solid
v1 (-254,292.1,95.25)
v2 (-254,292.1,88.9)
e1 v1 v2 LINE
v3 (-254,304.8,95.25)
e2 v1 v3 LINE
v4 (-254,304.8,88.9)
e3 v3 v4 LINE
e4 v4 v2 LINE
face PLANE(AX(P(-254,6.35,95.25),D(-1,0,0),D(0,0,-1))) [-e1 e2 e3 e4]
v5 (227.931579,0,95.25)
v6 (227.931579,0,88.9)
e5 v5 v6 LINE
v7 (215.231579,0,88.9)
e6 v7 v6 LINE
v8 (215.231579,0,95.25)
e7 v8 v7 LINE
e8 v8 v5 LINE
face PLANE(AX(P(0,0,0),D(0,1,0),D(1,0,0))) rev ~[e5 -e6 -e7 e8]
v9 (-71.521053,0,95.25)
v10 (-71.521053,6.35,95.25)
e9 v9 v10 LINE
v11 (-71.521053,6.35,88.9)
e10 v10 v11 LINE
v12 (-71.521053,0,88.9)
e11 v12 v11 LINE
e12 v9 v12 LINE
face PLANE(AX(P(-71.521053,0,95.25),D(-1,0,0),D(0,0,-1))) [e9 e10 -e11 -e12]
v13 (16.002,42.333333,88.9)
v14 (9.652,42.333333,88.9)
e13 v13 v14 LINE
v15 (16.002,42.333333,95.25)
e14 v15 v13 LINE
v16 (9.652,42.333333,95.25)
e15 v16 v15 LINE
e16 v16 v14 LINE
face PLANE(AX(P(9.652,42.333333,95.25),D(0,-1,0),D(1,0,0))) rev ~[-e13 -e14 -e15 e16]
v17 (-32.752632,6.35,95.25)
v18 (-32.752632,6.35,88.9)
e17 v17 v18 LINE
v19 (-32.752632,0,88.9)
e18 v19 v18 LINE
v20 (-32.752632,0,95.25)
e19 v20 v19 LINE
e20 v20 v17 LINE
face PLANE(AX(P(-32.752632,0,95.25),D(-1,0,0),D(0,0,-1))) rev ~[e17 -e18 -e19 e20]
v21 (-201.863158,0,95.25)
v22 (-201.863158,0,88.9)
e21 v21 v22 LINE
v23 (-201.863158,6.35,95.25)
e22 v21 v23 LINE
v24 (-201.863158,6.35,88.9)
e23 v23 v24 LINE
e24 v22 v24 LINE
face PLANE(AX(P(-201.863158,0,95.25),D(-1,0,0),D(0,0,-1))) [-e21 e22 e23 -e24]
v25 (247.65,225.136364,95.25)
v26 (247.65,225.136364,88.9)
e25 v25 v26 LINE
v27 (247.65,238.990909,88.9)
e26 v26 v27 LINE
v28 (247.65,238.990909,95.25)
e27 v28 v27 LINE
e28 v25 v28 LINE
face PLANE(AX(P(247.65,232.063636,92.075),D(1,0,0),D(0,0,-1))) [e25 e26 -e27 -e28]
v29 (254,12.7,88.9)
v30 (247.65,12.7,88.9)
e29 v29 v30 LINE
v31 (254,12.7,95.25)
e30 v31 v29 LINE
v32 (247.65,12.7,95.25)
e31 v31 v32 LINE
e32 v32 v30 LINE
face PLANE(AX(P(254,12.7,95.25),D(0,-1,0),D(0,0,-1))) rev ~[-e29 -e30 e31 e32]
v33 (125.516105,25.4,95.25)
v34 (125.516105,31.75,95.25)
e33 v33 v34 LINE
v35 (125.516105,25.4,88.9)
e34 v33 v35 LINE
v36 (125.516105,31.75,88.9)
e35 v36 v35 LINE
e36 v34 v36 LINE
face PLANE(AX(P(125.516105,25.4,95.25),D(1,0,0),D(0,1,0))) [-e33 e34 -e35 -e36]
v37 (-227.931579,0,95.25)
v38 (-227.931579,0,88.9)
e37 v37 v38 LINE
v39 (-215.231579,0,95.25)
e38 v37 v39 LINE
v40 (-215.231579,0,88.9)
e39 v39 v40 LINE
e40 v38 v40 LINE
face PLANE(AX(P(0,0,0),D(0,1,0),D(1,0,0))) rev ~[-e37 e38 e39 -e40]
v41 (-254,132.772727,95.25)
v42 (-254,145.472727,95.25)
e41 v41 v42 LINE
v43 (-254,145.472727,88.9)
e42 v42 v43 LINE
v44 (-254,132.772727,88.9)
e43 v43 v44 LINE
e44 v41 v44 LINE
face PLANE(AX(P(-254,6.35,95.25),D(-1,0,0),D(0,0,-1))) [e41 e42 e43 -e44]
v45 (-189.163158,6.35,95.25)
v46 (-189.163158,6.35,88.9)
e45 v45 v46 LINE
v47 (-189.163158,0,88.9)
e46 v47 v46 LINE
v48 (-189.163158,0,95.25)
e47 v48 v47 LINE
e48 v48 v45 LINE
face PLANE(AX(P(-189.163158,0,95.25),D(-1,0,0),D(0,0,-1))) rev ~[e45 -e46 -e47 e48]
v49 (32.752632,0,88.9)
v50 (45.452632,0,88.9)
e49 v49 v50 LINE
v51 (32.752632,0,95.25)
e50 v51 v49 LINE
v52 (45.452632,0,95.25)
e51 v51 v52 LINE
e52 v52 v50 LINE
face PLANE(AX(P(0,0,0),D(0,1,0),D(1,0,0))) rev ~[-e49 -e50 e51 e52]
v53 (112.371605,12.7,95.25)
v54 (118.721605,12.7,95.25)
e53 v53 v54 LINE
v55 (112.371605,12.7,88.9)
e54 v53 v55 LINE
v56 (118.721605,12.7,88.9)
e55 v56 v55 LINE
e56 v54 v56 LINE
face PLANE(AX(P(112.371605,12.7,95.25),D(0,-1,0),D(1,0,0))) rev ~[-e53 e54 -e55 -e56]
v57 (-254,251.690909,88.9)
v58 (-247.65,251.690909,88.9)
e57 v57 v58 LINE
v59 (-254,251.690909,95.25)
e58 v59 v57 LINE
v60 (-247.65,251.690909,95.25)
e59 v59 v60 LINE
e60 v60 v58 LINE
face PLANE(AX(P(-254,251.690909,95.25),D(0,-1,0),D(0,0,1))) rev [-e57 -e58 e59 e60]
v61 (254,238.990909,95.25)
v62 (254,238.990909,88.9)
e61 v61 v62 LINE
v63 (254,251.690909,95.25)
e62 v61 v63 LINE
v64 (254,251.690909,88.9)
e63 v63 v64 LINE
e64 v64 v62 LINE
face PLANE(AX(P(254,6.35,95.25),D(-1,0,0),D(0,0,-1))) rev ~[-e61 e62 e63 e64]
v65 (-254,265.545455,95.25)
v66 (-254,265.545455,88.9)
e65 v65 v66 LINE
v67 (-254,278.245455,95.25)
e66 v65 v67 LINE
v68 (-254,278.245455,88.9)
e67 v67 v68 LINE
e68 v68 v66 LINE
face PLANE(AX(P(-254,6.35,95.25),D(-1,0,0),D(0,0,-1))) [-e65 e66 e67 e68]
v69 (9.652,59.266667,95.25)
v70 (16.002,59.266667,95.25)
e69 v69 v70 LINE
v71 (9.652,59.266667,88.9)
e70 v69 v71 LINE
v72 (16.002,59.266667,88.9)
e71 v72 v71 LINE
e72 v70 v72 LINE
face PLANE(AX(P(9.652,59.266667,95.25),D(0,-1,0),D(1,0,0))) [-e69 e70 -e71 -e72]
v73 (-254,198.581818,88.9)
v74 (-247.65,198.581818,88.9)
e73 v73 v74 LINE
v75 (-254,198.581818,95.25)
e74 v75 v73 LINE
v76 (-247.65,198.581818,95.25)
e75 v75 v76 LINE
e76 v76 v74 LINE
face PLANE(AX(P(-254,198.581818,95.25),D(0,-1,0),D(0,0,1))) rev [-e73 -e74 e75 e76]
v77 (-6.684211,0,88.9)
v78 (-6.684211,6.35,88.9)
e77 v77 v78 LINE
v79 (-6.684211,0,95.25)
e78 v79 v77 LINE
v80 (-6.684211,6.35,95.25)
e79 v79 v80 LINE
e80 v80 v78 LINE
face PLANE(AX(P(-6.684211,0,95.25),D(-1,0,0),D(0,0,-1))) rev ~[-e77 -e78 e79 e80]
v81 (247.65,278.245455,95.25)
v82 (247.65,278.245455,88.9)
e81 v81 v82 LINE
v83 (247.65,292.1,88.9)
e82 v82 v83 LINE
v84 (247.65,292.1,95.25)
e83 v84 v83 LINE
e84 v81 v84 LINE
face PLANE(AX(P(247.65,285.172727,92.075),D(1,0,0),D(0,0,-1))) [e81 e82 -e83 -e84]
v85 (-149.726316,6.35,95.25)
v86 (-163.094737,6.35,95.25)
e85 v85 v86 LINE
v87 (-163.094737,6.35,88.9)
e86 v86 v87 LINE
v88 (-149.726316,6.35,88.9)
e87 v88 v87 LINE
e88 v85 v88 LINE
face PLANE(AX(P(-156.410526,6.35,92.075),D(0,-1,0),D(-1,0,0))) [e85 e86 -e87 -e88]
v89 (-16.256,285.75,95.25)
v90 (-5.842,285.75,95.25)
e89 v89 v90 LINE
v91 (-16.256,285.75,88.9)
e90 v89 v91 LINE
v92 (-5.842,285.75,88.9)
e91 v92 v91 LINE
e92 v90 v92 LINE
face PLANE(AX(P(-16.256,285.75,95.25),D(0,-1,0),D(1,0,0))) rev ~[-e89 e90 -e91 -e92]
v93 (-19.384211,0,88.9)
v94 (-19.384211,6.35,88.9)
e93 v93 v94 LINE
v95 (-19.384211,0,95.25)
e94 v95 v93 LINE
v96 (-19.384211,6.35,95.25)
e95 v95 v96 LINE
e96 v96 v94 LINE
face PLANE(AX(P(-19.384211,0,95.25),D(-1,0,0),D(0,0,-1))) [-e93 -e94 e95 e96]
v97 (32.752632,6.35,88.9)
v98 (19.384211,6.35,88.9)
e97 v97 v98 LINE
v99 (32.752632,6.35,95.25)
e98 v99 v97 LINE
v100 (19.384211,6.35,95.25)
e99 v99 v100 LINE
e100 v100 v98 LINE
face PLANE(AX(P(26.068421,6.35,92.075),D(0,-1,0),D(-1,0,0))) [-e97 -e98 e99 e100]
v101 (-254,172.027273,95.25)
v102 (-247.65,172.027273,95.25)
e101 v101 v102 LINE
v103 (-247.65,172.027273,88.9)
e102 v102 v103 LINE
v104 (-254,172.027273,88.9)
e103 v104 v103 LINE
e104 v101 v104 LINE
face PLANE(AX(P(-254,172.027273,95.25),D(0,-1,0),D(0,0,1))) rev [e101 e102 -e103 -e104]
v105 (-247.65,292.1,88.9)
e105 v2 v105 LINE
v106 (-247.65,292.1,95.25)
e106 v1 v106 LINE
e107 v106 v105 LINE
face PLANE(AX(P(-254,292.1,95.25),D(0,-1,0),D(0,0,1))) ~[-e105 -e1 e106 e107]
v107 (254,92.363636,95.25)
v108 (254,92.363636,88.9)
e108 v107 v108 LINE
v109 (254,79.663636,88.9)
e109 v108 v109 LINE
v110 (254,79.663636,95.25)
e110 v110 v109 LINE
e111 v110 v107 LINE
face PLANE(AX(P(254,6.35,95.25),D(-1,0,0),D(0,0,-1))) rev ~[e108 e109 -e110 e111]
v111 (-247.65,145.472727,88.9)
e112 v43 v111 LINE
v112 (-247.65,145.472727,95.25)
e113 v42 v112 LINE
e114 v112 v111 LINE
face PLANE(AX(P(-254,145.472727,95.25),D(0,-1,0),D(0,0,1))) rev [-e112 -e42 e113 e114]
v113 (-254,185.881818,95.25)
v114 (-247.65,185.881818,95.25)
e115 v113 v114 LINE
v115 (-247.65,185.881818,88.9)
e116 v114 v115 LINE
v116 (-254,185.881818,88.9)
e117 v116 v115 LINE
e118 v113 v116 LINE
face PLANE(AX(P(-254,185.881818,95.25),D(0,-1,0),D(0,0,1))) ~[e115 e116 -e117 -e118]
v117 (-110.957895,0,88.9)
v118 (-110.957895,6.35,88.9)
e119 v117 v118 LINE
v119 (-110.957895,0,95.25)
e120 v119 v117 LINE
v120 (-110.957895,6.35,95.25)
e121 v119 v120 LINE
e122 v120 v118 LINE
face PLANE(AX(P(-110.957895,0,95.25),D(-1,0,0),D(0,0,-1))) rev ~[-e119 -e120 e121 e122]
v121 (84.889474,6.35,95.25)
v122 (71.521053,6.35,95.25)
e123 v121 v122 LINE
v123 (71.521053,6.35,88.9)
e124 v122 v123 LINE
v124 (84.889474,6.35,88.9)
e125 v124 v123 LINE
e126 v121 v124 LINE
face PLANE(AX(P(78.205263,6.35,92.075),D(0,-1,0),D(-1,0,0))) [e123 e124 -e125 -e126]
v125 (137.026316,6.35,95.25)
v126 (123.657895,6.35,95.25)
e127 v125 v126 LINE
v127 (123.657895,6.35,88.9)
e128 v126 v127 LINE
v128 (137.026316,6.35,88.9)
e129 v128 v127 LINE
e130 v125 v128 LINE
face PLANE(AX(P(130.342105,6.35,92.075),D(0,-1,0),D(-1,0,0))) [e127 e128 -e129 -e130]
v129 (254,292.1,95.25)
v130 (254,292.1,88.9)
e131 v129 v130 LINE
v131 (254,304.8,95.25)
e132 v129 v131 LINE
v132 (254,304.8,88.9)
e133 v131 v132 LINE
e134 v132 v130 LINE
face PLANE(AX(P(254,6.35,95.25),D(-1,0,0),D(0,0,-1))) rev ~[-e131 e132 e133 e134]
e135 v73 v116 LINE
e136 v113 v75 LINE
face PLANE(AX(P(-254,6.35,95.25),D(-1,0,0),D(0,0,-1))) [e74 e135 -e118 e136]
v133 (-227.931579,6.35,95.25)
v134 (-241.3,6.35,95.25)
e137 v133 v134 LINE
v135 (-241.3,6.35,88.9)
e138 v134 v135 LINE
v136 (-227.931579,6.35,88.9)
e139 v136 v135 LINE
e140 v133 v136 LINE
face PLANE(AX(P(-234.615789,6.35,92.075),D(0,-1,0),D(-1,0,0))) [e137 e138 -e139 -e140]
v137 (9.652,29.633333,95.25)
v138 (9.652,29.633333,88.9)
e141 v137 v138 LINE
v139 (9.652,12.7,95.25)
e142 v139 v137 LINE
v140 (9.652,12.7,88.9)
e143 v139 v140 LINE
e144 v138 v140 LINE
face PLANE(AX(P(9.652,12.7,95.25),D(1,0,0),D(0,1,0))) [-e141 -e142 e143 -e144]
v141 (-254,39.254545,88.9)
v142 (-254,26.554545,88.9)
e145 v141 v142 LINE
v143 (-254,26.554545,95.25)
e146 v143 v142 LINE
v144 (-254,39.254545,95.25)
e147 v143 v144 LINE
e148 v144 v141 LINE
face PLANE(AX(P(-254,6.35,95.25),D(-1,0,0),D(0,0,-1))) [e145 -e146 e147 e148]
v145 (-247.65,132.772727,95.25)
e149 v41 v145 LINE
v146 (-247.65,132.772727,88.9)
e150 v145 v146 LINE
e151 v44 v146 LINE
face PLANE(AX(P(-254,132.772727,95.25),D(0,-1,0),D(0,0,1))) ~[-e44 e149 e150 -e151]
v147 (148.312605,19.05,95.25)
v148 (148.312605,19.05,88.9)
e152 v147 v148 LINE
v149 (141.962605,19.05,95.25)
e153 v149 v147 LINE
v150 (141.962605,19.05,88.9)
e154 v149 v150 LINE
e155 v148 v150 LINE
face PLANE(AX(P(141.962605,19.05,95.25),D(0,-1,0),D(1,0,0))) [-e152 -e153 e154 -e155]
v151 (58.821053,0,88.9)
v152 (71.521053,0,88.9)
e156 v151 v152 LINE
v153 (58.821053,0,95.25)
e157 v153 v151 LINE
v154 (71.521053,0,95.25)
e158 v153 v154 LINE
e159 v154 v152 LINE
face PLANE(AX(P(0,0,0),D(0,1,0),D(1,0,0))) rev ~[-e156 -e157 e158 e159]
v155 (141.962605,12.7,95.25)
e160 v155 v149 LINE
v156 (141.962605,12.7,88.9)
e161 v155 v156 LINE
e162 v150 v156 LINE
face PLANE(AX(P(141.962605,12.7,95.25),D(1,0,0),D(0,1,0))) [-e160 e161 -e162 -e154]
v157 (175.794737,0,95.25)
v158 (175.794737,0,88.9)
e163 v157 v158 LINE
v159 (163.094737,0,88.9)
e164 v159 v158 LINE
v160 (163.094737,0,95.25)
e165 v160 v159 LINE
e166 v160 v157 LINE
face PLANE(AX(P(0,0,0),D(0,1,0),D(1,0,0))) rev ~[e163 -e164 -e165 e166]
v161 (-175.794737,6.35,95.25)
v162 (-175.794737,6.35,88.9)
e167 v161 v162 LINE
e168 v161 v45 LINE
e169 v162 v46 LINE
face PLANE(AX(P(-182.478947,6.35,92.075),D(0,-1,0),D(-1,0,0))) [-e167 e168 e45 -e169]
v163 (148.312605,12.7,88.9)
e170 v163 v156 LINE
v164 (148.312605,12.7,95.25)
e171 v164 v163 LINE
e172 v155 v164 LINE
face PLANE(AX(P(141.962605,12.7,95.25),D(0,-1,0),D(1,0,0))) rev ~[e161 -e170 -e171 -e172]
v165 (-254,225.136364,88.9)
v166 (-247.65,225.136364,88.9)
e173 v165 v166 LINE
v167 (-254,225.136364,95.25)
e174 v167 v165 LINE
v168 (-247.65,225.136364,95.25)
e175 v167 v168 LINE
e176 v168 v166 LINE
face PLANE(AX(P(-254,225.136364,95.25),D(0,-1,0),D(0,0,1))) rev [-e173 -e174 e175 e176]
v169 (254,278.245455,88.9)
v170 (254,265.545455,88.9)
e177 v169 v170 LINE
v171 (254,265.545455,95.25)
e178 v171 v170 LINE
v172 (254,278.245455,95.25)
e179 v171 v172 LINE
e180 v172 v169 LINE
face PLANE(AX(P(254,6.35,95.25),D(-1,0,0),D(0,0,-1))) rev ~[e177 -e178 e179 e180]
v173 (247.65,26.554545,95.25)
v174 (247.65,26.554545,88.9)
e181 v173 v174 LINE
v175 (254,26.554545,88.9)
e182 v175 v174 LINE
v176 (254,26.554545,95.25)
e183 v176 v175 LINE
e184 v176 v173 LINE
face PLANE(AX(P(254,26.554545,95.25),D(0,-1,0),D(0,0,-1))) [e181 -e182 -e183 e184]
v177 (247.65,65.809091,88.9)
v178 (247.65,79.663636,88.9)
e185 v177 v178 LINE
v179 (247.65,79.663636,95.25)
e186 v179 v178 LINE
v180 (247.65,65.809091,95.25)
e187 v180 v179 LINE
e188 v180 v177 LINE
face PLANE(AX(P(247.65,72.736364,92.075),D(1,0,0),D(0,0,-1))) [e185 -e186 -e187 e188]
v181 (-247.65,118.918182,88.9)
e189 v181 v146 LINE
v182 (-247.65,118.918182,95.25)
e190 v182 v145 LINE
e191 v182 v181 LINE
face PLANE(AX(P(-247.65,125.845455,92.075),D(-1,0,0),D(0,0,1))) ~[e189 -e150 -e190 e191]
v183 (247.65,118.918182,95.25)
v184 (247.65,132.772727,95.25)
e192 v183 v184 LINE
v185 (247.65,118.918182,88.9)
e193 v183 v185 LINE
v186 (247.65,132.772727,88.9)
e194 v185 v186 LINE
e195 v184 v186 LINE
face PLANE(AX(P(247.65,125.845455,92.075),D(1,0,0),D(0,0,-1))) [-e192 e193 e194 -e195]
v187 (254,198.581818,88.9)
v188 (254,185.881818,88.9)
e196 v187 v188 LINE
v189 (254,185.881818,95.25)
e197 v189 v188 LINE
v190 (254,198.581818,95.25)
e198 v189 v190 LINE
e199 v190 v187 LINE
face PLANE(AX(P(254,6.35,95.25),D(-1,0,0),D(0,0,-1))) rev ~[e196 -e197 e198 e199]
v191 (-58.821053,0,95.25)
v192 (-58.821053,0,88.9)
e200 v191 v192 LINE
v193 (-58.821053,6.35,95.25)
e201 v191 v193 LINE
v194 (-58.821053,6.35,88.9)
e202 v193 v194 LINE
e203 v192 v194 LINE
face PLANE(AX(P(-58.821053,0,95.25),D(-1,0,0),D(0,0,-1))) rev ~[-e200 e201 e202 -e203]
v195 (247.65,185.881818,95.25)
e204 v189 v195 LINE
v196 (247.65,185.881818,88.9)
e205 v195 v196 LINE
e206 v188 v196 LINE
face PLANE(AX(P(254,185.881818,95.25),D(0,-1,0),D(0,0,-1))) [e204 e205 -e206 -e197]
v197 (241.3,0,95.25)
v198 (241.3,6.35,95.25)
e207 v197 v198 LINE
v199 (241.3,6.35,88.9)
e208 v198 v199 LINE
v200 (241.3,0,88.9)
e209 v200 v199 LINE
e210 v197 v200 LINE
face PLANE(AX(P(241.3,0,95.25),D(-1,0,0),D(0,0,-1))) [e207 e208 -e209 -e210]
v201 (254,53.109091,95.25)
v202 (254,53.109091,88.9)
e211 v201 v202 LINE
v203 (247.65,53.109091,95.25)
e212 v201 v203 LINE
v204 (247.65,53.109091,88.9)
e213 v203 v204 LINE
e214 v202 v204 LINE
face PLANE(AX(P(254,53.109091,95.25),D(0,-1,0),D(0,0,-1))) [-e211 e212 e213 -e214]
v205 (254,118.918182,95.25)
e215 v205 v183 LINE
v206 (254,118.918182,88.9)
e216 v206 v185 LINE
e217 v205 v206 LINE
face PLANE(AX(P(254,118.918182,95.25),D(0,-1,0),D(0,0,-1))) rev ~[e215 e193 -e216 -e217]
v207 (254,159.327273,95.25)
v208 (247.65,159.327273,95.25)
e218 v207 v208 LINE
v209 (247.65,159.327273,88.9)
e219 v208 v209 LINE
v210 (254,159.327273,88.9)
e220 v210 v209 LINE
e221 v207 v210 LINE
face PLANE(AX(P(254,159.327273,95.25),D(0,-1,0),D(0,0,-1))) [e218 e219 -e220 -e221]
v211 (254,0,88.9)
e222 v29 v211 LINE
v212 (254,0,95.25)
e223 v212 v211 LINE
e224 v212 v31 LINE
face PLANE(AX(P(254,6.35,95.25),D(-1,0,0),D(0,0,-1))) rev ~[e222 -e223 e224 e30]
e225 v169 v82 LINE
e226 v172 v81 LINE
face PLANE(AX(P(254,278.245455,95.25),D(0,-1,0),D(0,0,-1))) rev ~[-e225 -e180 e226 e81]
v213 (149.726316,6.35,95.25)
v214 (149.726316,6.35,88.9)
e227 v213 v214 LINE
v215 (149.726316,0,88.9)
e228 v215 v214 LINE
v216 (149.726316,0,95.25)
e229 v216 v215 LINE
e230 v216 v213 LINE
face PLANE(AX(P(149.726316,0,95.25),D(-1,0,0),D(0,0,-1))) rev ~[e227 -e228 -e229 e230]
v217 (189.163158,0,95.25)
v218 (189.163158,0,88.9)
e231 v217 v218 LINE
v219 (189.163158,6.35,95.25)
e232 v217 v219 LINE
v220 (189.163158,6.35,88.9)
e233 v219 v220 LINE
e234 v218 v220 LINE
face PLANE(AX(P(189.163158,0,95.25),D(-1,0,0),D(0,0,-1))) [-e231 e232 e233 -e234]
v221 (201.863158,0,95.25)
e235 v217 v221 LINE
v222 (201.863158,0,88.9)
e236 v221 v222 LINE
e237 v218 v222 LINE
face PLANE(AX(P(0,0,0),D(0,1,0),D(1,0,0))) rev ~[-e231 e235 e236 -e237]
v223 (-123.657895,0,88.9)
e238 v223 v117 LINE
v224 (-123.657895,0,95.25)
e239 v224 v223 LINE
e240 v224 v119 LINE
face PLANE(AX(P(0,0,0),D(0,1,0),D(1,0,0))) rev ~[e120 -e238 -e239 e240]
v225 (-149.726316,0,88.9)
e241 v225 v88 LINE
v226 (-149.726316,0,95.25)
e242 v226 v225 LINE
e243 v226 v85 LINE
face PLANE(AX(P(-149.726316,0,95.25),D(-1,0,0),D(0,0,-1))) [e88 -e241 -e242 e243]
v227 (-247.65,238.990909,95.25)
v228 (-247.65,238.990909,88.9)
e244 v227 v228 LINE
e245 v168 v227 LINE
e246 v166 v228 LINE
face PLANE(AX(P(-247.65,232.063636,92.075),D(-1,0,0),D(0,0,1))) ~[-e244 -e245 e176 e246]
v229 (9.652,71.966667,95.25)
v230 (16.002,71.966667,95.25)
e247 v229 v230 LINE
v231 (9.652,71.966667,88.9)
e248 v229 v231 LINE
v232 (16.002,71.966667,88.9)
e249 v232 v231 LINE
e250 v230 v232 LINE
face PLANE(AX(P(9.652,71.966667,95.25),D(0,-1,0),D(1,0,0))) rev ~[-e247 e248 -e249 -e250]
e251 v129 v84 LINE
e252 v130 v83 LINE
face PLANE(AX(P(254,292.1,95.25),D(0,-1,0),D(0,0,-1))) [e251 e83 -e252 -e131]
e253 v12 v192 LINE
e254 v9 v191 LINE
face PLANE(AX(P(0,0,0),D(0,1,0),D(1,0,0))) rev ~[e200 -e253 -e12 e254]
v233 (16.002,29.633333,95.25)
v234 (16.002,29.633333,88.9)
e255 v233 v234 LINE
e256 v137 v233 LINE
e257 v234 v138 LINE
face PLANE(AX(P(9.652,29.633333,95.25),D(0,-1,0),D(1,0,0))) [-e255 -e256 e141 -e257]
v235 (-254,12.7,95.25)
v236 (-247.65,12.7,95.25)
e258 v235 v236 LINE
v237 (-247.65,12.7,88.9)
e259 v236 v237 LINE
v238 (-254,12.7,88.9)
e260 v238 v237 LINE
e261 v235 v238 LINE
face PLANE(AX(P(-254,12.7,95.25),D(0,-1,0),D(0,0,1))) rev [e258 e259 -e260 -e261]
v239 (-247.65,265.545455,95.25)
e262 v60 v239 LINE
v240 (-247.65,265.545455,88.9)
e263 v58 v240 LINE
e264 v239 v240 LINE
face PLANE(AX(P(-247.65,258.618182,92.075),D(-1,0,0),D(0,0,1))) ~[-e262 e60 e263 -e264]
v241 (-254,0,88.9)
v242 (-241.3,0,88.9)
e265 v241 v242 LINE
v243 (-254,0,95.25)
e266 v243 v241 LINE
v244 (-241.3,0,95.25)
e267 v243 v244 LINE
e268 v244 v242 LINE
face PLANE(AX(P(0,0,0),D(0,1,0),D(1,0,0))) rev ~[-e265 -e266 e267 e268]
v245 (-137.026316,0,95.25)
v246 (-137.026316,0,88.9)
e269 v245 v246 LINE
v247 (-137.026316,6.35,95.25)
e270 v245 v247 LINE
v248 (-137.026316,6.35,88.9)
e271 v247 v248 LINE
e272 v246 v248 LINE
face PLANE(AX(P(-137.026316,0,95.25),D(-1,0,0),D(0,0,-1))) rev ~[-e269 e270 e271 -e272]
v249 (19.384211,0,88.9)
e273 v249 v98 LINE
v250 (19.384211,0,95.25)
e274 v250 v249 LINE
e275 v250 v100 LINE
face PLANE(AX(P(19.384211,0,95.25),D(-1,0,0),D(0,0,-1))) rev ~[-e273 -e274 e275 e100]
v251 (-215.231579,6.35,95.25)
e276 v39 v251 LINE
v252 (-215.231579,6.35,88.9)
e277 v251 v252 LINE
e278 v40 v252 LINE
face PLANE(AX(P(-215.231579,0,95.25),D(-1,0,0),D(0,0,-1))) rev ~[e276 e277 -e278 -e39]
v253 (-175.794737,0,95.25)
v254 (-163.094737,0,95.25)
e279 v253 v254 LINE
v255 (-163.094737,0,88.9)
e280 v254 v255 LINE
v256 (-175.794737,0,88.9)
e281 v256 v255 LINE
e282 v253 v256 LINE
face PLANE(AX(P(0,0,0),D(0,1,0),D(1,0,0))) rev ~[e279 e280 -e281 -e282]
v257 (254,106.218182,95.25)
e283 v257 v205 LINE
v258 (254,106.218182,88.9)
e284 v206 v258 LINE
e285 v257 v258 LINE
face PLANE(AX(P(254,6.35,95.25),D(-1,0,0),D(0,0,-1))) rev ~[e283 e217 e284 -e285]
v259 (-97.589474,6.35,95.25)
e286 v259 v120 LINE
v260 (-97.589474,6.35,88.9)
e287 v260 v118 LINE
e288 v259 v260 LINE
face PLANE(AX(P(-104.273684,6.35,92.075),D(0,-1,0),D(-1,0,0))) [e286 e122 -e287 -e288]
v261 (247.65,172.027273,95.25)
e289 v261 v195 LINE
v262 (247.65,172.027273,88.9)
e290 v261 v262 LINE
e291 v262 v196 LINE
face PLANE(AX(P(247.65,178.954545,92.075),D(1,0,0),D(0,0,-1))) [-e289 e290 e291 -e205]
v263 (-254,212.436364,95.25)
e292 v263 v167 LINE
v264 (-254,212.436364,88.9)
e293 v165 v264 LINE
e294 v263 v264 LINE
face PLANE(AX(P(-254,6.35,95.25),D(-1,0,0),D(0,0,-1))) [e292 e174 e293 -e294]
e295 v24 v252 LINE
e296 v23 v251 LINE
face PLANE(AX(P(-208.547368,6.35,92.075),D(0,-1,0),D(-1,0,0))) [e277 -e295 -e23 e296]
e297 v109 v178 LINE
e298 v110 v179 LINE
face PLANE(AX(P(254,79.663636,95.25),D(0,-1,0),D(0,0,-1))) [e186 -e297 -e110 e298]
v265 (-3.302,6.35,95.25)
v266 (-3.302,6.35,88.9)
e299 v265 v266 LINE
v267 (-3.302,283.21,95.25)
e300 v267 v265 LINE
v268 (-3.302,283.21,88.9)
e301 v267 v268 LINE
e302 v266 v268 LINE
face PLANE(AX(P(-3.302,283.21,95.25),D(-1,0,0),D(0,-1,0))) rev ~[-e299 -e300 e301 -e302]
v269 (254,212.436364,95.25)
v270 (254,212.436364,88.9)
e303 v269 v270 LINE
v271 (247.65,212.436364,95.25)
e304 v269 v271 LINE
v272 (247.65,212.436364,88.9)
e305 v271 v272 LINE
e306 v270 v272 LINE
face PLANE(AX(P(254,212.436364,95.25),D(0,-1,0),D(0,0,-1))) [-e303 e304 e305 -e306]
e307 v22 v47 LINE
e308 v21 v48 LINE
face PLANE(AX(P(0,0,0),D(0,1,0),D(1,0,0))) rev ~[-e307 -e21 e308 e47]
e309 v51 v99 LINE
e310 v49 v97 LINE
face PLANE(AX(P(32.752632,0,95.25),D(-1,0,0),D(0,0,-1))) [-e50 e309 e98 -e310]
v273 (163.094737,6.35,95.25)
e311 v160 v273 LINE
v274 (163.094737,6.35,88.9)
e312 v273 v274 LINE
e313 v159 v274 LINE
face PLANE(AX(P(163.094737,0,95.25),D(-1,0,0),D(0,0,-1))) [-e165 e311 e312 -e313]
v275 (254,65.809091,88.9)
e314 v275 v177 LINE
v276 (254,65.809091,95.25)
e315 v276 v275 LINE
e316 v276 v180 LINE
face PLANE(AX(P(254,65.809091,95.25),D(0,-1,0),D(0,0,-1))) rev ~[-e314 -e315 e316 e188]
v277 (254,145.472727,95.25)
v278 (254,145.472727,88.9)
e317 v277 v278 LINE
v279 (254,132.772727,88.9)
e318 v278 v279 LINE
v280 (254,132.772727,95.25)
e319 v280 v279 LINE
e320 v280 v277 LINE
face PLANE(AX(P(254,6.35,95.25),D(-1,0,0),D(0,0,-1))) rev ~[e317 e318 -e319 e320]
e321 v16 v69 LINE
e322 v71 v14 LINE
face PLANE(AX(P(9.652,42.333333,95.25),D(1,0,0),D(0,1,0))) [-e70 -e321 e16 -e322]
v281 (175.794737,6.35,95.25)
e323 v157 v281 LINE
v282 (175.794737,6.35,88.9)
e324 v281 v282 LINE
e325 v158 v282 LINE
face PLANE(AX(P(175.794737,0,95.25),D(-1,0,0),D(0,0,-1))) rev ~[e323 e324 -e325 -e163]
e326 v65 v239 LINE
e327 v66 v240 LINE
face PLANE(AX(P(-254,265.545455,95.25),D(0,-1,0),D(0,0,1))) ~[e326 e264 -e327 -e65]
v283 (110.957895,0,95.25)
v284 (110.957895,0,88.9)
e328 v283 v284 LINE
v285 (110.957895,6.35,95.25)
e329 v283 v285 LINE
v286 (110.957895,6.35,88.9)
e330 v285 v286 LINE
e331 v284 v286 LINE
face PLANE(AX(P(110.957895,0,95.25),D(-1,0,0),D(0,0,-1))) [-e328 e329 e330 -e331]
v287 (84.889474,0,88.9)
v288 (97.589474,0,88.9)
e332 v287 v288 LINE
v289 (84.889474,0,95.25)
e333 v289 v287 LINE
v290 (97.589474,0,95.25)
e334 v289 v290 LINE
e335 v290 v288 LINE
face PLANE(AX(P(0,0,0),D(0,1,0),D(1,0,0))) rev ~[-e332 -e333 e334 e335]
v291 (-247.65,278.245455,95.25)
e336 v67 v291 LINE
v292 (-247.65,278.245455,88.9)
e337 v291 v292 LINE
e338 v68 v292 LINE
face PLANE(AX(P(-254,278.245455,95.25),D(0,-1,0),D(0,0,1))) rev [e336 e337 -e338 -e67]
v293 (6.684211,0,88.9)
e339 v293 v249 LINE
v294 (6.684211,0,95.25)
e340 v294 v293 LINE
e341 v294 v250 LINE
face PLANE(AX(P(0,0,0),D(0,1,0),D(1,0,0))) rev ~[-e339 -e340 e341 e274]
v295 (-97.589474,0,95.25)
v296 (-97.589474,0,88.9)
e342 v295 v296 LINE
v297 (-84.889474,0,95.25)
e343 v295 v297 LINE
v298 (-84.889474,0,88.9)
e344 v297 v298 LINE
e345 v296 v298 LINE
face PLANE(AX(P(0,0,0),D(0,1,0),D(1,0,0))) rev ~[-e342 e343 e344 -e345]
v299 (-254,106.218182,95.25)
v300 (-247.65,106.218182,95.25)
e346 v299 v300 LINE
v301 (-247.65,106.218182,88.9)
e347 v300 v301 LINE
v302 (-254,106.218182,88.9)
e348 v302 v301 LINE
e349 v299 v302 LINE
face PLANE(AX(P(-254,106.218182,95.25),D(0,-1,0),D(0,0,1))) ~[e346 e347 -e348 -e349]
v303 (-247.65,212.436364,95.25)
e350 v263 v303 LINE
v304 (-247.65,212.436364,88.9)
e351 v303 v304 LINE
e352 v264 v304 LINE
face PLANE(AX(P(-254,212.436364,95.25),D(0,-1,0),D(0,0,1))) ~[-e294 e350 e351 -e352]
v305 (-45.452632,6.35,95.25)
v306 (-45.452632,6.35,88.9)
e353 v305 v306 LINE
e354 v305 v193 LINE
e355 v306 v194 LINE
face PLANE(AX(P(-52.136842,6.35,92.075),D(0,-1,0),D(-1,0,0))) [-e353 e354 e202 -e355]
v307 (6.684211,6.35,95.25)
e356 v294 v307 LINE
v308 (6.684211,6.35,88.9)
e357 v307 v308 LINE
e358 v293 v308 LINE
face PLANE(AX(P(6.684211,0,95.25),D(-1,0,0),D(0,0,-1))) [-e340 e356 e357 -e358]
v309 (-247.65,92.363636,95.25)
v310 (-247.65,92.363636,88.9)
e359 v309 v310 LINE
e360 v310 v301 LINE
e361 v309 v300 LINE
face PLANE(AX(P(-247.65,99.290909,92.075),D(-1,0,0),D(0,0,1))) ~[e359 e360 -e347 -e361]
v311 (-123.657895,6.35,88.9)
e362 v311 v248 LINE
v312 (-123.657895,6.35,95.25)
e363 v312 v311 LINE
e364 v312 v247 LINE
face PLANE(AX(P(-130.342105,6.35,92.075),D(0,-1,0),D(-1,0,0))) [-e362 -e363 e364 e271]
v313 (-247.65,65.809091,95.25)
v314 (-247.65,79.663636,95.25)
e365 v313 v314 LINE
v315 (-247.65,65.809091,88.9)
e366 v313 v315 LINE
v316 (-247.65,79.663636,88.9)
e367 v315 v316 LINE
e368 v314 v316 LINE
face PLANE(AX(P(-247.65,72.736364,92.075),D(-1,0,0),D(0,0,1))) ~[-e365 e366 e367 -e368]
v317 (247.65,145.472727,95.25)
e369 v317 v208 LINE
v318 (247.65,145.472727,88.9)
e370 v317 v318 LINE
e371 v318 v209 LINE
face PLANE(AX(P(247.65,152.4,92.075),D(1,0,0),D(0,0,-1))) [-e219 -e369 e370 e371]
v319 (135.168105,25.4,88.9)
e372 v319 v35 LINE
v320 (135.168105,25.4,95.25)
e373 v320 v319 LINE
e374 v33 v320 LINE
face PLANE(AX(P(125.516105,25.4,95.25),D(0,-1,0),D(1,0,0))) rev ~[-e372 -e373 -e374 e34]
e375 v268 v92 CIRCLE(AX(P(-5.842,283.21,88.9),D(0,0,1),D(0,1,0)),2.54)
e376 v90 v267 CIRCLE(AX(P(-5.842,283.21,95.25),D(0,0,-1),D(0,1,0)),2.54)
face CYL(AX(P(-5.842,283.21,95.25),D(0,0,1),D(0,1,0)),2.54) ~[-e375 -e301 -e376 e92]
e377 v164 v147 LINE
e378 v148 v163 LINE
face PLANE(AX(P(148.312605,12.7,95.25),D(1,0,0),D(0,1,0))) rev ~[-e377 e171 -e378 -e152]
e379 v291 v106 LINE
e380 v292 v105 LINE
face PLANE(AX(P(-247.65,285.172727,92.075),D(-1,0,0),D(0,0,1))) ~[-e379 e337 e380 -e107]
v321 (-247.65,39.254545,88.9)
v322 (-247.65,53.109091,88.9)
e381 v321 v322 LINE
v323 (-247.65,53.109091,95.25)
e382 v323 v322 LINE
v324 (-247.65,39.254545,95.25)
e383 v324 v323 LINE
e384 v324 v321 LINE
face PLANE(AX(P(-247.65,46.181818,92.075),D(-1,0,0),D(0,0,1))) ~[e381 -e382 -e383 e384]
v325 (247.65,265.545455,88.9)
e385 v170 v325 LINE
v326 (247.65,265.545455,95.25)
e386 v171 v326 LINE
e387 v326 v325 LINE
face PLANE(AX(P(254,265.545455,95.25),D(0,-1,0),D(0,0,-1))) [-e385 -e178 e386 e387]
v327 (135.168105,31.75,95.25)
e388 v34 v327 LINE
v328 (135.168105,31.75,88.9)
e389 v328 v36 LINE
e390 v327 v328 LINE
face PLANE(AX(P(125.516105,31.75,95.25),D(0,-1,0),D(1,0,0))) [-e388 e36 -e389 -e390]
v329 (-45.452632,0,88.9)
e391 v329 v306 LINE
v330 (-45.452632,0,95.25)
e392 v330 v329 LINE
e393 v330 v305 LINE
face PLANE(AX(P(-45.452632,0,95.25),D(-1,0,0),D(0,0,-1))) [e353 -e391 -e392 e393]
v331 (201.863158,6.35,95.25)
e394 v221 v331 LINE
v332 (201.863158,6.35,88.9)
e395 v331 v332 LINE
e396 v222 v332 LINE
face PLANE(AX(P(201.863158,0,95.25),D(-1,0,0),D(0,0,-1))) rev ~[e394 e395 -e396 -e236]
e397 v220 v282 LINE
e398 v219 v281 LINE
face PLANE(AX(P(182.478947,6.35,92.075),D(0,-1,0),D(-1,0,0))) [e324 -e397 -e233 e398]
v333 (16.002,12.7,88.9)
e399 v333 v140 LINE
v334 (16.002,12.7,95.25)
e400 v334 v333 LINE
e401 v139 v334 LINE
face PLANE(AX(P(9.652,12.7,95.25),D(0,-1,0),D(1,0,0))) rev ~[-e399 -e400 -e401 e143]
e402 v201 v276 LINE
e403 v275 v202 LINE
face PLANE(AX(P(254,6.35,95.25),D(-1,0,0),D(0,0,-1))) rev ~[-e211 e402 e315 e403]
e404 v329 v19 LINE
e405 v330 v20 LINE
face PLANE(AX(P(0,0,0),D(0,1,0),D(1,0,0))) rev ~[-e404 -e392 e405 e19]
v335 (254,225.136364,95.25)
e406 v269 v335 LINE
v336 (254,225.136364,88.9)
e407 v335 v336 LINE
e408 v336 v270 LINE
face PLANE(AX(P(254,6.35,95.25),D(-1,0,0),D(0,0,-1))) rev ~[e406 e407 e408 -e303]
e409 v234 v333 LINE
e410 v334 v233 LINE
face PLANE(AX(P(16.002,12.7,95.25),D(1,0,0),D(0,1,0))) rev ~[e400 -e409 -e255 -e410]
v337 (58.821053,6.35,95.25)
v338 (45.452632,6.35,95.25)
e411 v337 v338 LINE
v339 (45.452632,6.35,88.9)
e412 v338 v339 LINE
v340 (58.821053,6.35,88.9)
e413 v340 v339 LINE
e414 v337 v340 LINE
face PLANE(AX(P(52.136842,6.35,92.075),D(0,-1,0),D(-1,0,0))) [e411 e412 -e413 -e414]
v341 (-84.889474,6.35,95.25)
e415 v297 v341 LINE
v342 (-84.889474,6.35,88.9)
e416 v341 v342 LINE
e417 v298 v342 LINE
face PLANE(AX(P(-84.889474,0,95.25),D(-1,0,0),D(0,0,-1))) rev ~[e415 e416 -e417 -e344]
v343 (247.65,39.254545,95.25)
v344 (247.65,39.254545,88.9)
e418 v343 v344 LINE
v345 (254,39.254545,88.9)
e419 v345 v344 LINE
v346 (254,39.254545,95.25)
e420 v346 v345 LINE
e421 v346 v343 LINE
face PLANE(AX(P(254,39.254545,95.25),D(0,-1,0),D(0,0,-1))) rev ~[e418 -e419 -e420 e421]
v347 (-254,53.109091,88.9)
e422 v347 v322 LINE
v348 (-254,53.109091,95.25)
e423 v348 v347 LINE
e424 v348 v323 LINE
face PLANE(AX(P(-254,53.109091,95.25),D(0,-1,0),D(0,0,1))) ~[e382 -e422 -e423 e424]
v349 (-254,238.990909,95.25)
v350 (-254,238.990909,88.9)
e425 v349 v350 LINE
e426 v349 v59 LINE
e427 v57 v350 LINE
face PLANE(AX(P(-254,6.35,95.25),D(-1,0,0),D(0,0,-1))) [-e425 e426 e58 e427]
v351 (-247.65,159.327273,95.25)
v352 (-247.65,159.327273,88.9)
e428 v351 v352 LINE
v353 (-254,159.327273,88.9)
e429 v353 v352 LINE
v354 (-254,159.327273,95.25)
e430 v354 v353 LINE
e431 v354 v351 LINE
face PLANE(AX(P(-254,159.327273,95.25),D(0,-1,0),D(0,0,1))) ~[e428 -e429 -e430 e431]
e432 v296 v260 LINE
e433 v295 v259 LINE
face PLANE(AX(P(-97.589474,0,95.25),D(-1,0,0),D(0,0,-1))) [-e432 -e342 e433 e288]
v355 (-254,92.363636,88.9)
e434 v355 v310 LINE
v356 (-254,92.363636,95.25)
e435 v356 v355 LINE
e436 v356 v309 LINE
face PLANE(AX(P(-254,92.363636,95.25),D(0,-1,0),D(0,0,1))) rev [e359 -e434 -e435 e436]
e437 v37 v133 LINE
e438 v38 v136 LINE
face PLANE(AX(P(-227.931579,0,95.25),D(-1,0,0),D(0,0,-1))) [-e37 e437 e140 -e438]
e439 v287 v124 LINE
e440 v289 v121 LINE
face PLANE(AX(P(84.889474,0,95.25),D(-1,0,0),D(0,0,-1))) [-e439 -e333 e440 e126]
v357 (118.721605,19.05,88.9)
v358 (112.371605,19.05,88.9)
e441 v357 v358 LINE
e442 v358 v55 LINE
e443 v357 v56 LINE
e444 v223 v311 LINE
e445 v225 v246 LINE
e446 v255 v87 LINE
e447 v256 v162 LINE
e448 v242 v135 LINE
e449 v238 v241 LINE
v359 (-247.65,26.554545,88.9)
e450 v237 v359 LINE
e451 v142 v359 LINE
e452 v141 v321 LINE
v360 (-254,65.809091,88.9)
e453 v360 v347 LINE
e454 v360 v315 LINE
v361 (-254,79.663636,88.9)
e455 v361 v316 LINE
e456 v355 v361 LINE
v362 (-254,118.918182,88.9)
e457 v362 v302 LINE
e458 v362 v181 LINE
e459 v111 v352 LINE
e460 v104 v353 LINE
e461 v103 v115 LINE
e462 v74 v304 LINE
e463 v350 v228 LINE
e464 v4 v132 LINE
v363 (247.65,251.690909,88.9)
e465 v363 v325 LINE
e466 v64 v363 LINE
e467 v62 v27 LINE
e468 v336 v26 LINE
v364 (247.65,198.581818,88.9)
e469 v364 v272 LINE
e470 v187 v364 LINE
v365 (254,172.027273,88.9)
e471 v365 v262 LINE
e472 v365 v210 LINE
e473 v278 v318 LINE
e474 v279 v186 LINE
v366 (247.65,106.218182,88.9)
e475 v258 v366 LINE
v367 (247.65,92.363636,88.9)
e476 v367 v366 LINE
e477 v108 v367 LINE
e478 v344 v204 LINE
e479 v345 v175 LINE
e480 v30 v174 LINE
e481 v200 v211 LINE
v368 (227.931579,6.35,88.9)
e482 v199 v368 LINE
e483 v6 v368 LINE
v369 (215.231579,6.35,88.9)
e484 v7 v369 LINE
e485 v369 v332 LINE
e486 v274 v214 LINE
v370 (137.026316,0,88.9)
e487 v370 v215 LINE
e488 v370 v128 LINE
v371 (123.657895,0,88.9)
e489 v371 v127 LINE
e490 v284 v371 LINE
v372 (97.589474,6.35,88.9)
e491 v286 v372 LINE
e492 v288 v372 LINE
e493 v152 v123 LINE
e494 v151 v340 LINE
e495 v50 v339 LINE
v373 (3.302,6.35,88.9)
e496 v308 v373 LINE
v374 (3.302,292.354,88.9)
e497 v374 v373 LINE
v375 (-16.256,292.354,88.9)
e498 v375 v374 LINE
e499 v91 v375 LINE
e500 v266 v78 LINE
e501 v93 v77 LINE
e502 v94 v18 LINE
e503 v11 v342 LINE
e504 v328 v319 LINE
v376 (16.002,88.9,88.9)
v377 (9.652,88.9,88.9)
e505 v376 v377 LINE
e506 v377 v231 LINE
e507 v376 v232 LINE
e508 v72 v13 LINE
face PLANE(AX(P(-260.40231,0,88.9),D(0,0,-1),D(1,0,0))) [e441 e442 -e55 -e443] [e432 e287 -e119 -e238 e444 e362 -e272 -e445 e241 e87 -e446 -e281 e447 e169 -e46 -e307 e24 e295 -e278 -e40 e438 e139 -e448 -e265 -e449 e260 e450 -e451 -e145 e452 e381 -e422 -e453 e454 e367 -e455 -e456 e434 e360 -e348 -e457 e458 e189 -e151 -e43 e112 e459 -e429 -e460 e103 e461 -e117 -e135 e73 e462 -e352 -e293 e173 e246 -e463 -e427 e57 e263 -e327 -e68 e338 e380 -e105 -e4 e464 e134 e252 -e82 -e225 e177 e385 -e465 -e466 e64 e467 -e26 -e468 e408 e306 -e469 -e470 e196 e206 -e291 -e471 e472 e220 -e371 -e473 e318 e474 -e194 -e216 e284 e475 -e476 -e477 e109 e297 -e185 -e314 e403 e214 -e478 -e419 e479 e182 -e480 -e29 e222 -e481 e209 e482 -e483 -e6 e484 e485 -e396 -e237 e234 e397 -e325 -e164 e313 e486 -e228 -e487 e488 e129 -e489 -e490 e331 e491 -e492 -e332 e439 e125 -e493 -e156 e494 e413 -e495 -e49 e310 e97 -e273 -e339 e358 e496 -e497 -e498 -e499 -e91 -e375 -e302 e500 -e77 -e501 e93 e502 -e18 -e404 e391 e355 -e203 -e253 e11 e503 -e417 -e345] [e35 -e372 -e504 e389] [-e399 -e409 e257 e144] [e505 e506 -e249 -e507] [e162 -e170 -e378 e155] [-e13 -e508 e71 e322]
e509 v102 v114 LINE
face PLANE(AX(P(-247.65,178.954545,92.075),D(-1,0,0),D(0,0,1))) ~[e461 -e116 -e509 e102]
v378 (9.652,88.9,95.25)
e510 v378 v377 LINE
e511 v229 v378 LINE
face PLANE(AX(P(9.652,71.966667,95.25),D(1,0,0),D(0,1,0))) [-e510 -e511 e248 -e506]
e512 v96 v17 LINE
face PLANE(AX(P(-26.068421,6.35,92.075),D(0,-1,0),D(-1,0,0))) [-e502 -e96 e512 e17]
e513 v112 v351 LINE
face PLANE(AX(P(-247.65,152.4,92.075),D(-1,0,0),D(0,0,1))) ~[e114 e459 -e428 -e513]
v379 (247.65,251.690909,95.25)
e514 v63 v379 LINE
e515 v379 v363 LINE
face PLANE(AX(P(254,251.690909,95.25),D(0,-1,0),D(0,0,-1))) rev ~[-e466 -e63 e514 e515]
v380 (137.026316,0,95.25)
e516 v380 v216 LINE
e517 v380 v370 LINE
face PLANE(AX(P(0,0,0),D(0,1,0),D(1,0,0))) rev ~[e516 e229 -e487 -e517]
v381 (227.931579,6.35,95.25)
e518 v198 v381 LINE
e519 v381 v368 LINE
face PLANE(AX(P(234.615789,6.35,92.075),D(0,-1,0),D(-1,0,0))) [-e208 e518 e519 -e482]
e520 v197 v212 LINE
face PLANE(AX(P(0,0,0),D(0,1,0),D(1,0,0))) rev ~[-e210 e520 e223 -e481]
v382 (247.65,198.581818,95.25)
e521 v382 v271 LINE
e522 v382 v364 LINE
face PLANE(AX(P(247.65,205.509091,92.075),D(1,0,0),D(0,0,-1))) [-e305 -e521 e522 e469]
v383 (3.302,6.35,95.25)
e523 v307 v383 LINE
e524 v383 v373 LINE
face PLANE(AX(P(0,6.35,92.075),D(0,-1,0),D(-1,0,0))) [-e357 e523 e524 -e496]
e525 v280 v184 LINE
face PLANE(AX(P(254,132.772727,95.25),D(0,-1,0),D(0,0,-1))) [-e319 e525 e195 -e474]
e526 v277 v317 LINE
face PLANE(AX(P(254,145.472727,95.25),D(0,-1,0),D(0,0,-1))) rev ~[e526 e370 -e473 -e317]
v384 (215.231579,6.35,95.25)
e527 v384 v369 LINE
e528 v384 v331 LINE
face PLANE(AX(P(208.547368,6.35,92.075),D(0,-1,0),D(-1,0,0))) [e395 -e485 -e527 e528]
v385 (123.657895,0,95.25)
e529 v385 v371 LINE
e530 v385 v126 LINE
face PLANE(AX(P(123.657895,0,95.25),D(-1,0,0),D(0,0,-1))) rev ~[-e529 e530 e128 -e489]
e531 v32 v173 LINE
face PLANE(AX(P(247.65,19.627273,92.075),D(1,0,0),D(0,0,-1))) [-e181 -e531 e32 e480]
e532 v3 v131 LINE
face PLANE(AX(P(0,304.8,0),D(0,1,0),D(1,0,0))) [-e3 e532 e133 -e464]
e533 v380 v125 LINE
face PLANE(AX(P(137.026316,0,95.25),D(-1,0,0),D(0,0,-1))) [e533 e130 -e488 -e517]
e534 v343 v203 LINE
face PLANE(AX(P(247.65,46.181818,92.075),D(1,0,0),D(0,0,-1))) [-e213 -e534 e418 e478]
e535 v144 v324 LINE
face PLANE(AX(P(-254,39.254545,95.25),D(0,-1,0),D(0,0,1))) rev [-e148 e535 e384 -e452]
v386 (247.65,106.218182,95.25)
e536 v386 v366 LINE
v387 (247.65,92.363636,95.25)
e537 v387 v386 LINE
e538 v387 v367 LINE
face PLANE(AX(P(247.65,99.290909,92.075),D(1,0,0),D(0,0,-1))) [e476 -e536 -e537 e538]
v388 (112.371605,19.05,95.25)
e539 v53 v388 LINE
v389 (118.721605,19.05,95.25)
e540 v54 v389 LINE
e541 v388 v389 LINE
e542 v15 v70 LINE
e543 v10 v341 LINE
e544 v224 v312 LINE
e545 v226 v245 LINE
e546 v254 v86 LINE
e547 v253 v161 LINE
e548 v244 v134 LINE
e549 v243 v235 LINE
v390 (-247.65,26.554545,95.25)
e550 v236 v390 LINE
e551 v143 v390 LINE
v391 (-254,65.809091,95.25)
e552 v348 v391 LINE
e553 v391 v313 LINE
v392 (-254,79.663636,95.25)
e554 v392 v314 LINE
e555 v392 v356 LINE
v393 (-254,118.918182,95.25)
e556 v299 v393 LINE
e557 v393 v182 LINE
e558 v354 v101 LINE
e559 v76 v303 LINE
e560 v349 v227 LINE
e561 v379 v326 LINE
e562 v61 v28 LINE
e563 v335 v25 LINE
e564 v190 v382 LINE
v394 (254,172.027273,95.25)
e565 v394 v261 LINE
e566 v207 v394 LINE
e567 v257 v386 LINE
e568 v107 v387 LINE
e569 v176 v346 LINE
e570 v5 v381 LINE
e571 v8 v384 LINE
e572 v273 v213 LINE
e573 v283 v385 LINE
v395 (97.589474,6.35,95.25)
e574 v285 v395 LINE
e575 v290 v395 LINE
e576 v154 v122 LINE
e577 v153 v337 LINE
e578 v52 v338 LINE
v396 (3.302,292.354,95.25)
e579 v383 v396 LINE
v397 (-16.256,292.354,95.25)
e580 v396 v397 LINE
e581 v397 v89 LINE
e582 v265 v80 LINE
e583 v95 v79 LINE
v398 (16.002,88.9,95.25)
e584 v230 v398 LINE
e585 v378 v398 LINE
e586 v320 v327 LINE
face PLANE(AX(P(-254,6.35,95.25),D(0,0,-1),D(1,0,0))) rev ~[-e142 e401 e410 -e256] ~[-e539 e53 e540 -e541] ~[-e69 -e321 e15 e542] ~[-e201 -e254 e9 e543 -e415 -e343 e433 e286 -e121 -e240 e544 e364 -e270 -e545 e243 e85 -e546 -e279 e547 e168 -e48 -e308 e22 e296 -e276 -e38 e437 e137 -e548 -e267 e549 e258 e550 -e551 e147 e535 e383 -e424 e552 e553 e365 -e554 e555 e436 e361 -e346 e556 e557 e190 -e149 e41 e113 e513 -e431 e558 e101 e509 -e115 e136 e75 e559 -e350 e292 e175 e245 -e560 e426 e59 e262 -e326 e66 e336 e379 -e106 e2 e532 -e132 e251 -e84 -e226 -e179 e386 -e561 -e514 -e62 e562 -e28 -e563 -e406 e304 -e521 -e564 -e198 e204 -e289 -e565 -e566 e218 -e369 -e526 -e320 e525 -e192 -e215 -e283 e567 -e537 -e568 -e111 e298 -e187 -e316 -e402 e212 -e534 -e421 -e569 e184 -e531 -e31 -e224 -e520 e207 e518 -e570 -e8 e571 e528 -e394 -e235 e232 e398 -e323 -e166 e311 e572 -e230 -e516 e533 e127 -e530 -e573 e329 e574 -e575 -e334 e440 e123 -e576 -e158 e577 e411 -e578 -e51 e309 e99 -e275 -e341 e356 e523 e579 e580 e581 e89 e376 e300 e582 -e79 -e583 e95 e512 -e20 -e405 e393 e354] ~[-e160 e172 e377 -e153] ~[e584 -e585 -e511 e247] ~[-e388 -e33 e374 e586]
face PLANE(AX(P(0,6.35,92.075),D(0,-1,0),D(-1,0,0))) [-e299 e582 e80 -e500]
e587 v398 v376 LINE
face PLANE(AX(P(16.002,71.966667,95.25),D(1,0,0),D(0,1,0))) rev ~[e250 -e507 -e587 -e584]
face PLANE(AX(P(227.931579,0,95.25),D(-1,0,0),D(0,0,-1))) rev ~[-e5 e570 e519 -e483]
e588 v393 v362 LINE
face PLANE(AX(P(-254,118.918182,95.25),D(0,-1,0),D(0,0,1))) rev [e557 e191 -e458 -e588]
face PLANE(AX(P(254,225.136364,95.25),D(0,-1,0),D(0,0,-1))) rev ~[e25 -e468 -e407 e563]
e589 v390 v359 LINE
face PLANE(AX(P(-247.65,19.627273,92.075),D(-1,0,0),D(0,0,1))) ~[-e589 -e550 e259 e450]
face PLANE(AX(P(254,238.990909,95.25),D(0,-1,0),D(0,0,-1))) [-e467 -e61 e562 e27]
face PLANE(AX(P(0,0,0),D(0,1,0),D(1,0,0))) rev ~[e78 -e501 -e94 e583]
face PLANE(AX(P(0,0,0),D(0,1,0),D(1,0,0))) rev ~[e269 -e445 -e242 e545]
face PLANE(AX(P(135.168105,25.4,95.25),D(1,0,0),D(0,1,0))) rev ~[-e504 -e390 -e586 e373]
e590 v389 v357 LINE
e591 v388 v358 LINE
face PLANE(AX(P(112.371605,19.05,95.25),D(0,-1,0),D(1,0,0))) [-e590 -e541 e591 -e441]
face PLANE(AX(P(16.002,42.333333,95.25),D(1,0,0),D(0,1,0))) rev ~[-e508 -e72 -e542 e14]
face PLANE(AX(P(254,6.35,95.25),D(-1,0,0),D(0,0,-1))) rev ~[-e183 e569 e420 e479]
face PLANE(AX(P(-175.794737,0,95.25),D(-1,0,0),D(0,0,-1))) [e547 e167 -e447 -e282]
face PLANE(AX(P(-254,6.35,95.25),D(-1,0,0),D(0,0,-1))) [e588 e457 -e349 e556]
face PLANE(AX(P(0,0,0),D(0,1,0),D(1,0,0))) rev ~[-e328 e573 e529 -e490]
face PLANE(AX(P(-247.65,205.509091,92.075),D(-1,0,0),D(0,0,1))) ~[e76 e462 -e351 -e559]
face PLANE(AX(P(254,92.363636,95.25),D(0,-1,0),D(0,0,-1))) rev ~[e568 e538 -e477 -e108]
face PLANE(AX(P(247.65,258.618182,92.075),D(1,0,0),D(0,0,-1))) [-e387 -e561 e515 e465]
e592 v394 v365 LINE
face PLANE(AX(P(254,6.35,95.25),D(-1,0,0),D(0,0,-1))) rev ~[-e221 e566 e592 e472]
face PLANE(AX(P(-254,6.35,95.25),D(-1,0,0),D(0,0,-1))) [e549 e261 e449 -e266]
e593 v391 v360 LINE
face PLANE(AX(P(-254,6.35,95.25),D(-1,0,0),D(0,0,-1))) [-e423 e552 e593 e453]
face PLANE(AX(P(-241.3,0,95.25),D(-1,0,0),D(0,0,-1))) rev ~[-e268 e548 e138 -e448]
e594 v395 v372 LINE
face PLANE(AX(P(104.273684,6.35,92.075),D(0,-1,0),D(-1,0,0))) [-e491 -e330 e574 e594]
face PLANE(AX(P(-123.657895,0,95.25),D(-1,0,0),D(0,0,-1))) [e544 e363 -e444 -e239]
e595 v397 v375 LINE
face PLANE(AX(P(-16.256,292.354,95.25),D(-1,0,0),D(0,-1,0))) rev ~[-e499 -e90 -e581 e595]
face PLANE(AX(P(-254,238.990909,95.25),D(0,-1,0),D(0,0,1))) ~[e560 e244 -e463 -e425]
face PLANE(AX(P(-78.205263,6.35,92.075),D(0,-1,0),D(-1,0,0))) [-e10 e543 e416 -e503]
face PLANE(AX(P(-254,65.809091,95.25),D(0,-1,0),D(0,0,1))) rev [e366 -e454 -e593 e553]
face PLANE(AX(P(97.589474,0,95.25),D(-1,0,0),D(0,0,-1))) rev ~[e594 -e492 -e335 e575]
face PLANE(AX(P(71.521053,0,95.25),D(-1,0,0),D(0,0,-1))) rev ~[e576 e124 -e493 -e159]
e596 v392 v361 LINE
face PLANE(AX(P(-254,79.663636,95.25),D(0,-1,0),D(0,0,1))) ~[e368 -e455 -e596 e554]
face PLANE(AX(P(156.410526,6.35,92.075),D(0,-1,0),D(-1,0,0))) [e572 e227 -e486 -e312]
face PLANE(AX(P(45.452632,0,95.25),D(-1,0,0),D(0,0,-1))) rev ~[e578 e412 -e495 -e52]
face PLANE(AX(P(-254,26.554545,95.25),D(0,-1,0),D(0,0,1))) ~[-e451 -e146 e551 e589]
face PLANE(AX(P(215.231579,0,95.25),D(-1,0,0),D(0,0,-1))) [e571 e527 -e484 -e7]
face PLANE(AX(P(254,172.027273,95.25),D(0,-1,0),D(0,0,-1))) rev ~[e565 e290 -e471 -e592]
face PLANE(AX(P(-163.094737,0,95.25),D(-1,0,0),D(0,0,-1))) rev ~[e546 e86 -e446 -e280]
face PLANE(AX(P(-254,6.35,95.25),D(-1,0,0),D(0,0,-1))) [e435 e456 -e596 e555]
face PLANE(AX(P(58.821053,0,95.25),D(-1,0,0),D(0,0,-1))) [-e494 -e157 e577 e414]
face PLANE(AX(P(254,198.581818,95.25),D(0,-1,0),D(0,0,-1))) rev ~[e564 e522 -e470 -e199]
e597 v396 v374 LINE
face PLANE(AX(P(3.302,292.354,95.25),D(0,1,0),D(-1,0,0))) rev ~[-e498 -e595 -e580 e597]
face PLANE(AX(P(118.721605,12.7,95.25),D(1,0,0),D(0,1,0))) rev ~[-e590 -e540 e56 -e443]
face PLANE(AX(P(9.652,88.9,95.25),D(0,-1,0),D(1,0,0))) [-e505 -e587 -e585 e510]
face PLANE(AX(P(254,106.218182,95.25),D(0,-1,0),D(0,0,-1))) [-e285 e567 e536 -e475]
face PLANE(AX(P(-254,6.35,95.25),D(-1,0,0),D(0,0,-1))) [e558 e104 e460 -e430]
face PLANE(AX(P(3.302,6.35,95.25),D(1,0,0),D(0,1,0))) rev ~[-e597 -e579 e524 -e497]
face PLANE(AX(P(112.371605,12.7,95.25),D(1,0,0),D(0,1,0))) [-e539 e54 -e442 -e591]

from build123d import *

# Parameters (mm, degrees)
SKETCH1_W           = 508
SKETCH1_H           = 190.5
BOSS_EXTRUDE1_DEPTH = 6.35
SKETCH2_W           = 508
SKETCH2_H           = 190.5
SKETCH2_W_2         = 495.3
SKETCH2_H_2         = 177.8
BOSS_EXTRUDE2_DEPTH = 298.45
SKETCH3_W           = 6.35
SKETCH3_H           = 16.933333333
SKETCH3_H_2         = 16.933333334
CUT_EXTRUDE1_DEPTH  = 12.7
SKETCH4_W           = 6.35
SKETCH4_H           = 15.875
CUT_EXTRUDE2_DEPTH  = 6.35
SKETCH6_W           = 551.127140902
SKETCH6_H           = 227.623239157
CUT_EXTRUDE5_DEPTH  = 305.8
SKETCH5_W           = 13.368421053
SKETCH5_H           = 6.35
SKETCH5_W_2         = 13.368421052
CUT_EXTRUDE6_DEPTH  = 6.35
SKETCH7_W           = 6.35
SKETCH7_H           = 13.854545455
SKETCH7_H_2         = 13.854545454
CUT_EXTRUDE7_DEPTH  = 6.35
SKETCH8_W           = 9.652
SKETCH8_H           = 6.35
SKETCH8_W_2         = 6.35
LEVER_HOLE_DEPTH    = 7.35


with BuildPart() as part:
    # Sketch1 → Boss-Extrude1 (new body)
    with BuildSketch(Plane(origin=(0, 0, 0), x_dir=(1, 0, 0), z_dir=(0, 1, 0))):
        Rectangle(SKETCH1_W, SKETCH1_H)
    extrude(amount=BOSS_EXTRUDE1_DEPTH)

    # Sketch2 → Boss-Extrude2 (add)
    with BuildSketch(Plane(origin=(0, 6.35, 0), x_dir=(1, 0, 0), z_dir=(0, 1, 0))):
        Rectangle(SKETCH2_W, SKETCH2_H)
        Rectangle(SKETCH2_W_2, SKETCH2_H_2, mode=Mode.SUBTRACT)
    extrude(amount=BOSS_EXTRUDE2_DEPTH)

    # Sketch3 → Cut-Extrude1 (cut)
    with BuildSketch(Plane.XY.offset(95.25)):
        with BuildLine():
            Line((-3.302, 283.21), (-3.302, 6.35))
            Line((-3.302, 6.35), (3.302, 6.35))
            Line((3.302, 6.35), (3.302, 292.354))
            Line((3.302, 292.354), (-16.256, 292.354))
            Line((-16.256, 292.354), (-16.256, 285.75))
            Line((-16.256, 285.75), (-5.842, 285.75))
            ThreePointArc((-5.842, 285.75), (-4.045948776, 285.006051224), (-3.302, 283.21))
        make_face()
        with Locations((12.827, 80.433333334)):
            Rectangle(SKETCH3_W, SKETCH3_H)
        with Locations((12.827, 50.8)):
            Rectangle(SKETCH3_W, SKETCH3_H_2)
        with Locations((12.827, 21.166666667)):
            Rectangle(SKETCH3_W, SKETCH3_H)
    extrude(amount=-CUT_EXTRUDE1_DEPTH, mode=Mode.SUBTRACT)

    # Sketch4 → Cut-Extrude2 (cut)
    with BuildSketch(Plane.XY.offset(-88.9)):
        with Locations((-19.431, 284.1625)):
            Rectangle(SKETCH4_W, SKETCH4_H)
        with Locations((-19.431, 255.5875)):
            Rectangle(SKETCH4_W, SKETCH4_H)
        with Locations((-19.431, 227.0125)):
            Rectangle(SKETCH4_W, SKETCH4_H)
        with Locations((-19.431, 198.4375)):
            Rectangle(SKETCH4_W, SKETCH4_H)
        with Locations((-19.431, 169.8625)):
            Rectangle(SKETCH4_W, SKETCH4_H)
        with Locations((-19.431, 141.2875)):
            Rectangle(SKETCH4_W, SKETCH4_H)
        with Locations((-19.431, 112.7125)):
            Rectangle(SKETCH4_W, SKETCH4_H)
        with Locations((-19.431, 84.1375)):
            Rectangle(SKETCH4_W, SKETCH4_H)
        with Locations((-19.431, 55.5625)):
            Rectangle(SKETCH4_W, SKETCH4_H)
        with Locations((-19.431, 26.9875)):
            Rectangle(SKETCH4_W, SKETCH4_H)
    cut_extrude2 = extrude(amount=-CUT_EXTRUDE2_DEPTH, mode=Mode.SUBTRACT)

    # Mirror1: Cut-Extrude2 across plane
    add(cut_extrude2.mirror(Plane.ZY.offset(6.477)), mode=Mode.SUBTRACT)

    # Sketch6 → Cut-Extrude5 (cut, through all)
    with BuildSketch(Plane(origin=(0, 0, 0), x_dir=(1, 0, 0), z_dir=(0, 1, 0))):
        with Locations((15.161260543, 24.911619578)):
            Rectangle(SKETCH6_W, SKETCH6_H)
    extrude(amount=CUT_EXTRUDE5_DEPTH, mode=Mode.SUBTRACT)

    # Sketch5 → Cut-Extrude6 (cut)
    with BuildSketch(Plane(origin=(0, 0, 0), x_dir=(-1, 0, 0), z_dir=(0, -1, 0))):
        with Locations((-234.615789474, -92.075)):
            Rectangle(SKETCH5_W, SKETCH5_H)
        with Locations((-208.547368421, -92.075)):
            Rectangle(SKETCH5_W_2, SKETCH5_H)
        with Locations((-182.478947369, -92.075)):
            Rectangle(SKETCH5_W, SKETCH5_H)
        with Locations((-156.410526316, -92.075)):
            Rectangle(SKETCH5_W, SKETCH5_H)
        with Locations((-130.342105263, -92.075)):
            Rectangle(SKETCH5_W_2, SKETCH5_H)
        with Locations((-104.273684211, -92.075)):
            Rectangle(SKETCH5_W, SKETCH5_H)
        with Locations((-78.205263158, -92.075)):
            Rectangle(SKETCH5_W_2, SKETCH5_H)
        with Locations((-52.136842106, -92.075)):
            Rectangle(SKETCH5_W, SKETCH5_H)
        with Locations((-26.068421052, -92.075)):
            Rectangle(SKETCH5_W, SKETCH5_H)
        with Locations((0, -92.075)):
            Rectangle(SKETCH5_W_2, SKETCH5_H)
        with Locations((26.068421052, -92.075)):
            Rectangle(SKETCH5_W, SKETCH5_H)
        with Locations((52.136842106, -92.075)):
            Rectangle(SKETCH5_W, SKETCH5_H)
        with Locations((78.205263158, -92.075)):
            Rectangle(SKETCH5_W_2, SKETCH5_H)
        with Locations((104.273684211, -92.075)):
            Rectangle(SKETCH5_W, SKETCH5_H)
        with Locations((130.342105263, -92.075)):
            Rectangle(SKETCH5_W_2, SKETCH5_H)
        with Locations((156.410526316, -92.075)):
            Rectangle(SKETCH5_W, SKETCH5_H)
        with Locations((182.478947369, -92.075)):
            Rectangle(SKETCH5_W, SKETCH5_H)
        with Locations((208.547368421, -92.075)):
            Rectangle(SKETCH5_W_2, SKETCH5_H)
        with Locations((234.615789474, -92.075)):
            Rectangle(SKETCH5_W, SKETCH5_H)
    extrude(amount=-CUT_EXTRUDE6_DEPTH, mode=Mode.SUBTRACT)

    # Sketch7 → Cut-Extrude7 (cut)
    with BuildSketch(Plane(origin=(254, 0, 0), x_dir=(0, 0, -1), z_dir=(1, 0, 0))):
        with Locations((-92.075, 285.172727273)):
            Rectangle(SKETCH7_W, SKETCH7_H)
        with Locations((-92.075, 258.618181818)):
            Rectangle(SKETCH7_W, SKETCH7_H_2)
        with Locations((-92.075, 232.063636364)):
            Rectangle(SKETCH7_W, SKETCH7_H)
        with Locations((-92.075, 205.509090909)):
            Rectangle(SKETCH7_W, SKETCH7_H_2)
        with Locations((-92.075, 178.954545455)):
            Rectangle(SKETCH7_W, SKETCH7_H)
        with Locations((-92.075, 152.4)):
            Rectangle(SKETCH7_W, SKETCH7_H_2)
        with Locations((-92.075, 125.845454546)):
            Rectangle(SKETCH7_W, SKETCH7_H)
        with Locations((-92.075, 99.290909091)):
            Rectangle(SKETCH7_W, SKETCH7_H_2)
        with Locations((-92.075, 72.736363637)):
            Rectangle(SKETCH7_W, SKETCH7_H)
        with Locations((-92.075, 46.181818182)):
            Rectangle(SKETCH7_W, SKETCH7_H_2)
        with Locations((-92.075, 19.627272728)):
            Rectangle(SKETCH7_W, SKETCH7_H)
    cut_extrude7 = extrude(amount=-CUT_EXTRUDE7_DEPTH, mode=Mode.SUBTRACT)

    # Mirror2: Cut-Extrude7 across plane
    add(cut_extrude7.mirror(Plane(origin=(0, 0, 0), x_dir=(0, 0, 1), z_dir=(1, 0, 0))), mode=Mode.SUBTRACT)

    # Sketch8 → Lever Hole (cut, through all)
    with BuildSketch(Plane.XY.offset(95.25)):
        with Locations((130.342105263, 28.575)):
            Rectangle(SKETCH8_W, SKETCH8_H)
        with Locations((115.546605263, 15.875)):
            Rectangle(SKETCH8_W_2, SKETCH8_H)
        with Locations((145.137605263, 15.875)):
            Rectangle(SKETCH8_W_2, SKETCH8_H)
    extrude(amount=-LEVER_HOLE_DEPTH, mode=Mode.SUBTRACT)


solid = part.part
